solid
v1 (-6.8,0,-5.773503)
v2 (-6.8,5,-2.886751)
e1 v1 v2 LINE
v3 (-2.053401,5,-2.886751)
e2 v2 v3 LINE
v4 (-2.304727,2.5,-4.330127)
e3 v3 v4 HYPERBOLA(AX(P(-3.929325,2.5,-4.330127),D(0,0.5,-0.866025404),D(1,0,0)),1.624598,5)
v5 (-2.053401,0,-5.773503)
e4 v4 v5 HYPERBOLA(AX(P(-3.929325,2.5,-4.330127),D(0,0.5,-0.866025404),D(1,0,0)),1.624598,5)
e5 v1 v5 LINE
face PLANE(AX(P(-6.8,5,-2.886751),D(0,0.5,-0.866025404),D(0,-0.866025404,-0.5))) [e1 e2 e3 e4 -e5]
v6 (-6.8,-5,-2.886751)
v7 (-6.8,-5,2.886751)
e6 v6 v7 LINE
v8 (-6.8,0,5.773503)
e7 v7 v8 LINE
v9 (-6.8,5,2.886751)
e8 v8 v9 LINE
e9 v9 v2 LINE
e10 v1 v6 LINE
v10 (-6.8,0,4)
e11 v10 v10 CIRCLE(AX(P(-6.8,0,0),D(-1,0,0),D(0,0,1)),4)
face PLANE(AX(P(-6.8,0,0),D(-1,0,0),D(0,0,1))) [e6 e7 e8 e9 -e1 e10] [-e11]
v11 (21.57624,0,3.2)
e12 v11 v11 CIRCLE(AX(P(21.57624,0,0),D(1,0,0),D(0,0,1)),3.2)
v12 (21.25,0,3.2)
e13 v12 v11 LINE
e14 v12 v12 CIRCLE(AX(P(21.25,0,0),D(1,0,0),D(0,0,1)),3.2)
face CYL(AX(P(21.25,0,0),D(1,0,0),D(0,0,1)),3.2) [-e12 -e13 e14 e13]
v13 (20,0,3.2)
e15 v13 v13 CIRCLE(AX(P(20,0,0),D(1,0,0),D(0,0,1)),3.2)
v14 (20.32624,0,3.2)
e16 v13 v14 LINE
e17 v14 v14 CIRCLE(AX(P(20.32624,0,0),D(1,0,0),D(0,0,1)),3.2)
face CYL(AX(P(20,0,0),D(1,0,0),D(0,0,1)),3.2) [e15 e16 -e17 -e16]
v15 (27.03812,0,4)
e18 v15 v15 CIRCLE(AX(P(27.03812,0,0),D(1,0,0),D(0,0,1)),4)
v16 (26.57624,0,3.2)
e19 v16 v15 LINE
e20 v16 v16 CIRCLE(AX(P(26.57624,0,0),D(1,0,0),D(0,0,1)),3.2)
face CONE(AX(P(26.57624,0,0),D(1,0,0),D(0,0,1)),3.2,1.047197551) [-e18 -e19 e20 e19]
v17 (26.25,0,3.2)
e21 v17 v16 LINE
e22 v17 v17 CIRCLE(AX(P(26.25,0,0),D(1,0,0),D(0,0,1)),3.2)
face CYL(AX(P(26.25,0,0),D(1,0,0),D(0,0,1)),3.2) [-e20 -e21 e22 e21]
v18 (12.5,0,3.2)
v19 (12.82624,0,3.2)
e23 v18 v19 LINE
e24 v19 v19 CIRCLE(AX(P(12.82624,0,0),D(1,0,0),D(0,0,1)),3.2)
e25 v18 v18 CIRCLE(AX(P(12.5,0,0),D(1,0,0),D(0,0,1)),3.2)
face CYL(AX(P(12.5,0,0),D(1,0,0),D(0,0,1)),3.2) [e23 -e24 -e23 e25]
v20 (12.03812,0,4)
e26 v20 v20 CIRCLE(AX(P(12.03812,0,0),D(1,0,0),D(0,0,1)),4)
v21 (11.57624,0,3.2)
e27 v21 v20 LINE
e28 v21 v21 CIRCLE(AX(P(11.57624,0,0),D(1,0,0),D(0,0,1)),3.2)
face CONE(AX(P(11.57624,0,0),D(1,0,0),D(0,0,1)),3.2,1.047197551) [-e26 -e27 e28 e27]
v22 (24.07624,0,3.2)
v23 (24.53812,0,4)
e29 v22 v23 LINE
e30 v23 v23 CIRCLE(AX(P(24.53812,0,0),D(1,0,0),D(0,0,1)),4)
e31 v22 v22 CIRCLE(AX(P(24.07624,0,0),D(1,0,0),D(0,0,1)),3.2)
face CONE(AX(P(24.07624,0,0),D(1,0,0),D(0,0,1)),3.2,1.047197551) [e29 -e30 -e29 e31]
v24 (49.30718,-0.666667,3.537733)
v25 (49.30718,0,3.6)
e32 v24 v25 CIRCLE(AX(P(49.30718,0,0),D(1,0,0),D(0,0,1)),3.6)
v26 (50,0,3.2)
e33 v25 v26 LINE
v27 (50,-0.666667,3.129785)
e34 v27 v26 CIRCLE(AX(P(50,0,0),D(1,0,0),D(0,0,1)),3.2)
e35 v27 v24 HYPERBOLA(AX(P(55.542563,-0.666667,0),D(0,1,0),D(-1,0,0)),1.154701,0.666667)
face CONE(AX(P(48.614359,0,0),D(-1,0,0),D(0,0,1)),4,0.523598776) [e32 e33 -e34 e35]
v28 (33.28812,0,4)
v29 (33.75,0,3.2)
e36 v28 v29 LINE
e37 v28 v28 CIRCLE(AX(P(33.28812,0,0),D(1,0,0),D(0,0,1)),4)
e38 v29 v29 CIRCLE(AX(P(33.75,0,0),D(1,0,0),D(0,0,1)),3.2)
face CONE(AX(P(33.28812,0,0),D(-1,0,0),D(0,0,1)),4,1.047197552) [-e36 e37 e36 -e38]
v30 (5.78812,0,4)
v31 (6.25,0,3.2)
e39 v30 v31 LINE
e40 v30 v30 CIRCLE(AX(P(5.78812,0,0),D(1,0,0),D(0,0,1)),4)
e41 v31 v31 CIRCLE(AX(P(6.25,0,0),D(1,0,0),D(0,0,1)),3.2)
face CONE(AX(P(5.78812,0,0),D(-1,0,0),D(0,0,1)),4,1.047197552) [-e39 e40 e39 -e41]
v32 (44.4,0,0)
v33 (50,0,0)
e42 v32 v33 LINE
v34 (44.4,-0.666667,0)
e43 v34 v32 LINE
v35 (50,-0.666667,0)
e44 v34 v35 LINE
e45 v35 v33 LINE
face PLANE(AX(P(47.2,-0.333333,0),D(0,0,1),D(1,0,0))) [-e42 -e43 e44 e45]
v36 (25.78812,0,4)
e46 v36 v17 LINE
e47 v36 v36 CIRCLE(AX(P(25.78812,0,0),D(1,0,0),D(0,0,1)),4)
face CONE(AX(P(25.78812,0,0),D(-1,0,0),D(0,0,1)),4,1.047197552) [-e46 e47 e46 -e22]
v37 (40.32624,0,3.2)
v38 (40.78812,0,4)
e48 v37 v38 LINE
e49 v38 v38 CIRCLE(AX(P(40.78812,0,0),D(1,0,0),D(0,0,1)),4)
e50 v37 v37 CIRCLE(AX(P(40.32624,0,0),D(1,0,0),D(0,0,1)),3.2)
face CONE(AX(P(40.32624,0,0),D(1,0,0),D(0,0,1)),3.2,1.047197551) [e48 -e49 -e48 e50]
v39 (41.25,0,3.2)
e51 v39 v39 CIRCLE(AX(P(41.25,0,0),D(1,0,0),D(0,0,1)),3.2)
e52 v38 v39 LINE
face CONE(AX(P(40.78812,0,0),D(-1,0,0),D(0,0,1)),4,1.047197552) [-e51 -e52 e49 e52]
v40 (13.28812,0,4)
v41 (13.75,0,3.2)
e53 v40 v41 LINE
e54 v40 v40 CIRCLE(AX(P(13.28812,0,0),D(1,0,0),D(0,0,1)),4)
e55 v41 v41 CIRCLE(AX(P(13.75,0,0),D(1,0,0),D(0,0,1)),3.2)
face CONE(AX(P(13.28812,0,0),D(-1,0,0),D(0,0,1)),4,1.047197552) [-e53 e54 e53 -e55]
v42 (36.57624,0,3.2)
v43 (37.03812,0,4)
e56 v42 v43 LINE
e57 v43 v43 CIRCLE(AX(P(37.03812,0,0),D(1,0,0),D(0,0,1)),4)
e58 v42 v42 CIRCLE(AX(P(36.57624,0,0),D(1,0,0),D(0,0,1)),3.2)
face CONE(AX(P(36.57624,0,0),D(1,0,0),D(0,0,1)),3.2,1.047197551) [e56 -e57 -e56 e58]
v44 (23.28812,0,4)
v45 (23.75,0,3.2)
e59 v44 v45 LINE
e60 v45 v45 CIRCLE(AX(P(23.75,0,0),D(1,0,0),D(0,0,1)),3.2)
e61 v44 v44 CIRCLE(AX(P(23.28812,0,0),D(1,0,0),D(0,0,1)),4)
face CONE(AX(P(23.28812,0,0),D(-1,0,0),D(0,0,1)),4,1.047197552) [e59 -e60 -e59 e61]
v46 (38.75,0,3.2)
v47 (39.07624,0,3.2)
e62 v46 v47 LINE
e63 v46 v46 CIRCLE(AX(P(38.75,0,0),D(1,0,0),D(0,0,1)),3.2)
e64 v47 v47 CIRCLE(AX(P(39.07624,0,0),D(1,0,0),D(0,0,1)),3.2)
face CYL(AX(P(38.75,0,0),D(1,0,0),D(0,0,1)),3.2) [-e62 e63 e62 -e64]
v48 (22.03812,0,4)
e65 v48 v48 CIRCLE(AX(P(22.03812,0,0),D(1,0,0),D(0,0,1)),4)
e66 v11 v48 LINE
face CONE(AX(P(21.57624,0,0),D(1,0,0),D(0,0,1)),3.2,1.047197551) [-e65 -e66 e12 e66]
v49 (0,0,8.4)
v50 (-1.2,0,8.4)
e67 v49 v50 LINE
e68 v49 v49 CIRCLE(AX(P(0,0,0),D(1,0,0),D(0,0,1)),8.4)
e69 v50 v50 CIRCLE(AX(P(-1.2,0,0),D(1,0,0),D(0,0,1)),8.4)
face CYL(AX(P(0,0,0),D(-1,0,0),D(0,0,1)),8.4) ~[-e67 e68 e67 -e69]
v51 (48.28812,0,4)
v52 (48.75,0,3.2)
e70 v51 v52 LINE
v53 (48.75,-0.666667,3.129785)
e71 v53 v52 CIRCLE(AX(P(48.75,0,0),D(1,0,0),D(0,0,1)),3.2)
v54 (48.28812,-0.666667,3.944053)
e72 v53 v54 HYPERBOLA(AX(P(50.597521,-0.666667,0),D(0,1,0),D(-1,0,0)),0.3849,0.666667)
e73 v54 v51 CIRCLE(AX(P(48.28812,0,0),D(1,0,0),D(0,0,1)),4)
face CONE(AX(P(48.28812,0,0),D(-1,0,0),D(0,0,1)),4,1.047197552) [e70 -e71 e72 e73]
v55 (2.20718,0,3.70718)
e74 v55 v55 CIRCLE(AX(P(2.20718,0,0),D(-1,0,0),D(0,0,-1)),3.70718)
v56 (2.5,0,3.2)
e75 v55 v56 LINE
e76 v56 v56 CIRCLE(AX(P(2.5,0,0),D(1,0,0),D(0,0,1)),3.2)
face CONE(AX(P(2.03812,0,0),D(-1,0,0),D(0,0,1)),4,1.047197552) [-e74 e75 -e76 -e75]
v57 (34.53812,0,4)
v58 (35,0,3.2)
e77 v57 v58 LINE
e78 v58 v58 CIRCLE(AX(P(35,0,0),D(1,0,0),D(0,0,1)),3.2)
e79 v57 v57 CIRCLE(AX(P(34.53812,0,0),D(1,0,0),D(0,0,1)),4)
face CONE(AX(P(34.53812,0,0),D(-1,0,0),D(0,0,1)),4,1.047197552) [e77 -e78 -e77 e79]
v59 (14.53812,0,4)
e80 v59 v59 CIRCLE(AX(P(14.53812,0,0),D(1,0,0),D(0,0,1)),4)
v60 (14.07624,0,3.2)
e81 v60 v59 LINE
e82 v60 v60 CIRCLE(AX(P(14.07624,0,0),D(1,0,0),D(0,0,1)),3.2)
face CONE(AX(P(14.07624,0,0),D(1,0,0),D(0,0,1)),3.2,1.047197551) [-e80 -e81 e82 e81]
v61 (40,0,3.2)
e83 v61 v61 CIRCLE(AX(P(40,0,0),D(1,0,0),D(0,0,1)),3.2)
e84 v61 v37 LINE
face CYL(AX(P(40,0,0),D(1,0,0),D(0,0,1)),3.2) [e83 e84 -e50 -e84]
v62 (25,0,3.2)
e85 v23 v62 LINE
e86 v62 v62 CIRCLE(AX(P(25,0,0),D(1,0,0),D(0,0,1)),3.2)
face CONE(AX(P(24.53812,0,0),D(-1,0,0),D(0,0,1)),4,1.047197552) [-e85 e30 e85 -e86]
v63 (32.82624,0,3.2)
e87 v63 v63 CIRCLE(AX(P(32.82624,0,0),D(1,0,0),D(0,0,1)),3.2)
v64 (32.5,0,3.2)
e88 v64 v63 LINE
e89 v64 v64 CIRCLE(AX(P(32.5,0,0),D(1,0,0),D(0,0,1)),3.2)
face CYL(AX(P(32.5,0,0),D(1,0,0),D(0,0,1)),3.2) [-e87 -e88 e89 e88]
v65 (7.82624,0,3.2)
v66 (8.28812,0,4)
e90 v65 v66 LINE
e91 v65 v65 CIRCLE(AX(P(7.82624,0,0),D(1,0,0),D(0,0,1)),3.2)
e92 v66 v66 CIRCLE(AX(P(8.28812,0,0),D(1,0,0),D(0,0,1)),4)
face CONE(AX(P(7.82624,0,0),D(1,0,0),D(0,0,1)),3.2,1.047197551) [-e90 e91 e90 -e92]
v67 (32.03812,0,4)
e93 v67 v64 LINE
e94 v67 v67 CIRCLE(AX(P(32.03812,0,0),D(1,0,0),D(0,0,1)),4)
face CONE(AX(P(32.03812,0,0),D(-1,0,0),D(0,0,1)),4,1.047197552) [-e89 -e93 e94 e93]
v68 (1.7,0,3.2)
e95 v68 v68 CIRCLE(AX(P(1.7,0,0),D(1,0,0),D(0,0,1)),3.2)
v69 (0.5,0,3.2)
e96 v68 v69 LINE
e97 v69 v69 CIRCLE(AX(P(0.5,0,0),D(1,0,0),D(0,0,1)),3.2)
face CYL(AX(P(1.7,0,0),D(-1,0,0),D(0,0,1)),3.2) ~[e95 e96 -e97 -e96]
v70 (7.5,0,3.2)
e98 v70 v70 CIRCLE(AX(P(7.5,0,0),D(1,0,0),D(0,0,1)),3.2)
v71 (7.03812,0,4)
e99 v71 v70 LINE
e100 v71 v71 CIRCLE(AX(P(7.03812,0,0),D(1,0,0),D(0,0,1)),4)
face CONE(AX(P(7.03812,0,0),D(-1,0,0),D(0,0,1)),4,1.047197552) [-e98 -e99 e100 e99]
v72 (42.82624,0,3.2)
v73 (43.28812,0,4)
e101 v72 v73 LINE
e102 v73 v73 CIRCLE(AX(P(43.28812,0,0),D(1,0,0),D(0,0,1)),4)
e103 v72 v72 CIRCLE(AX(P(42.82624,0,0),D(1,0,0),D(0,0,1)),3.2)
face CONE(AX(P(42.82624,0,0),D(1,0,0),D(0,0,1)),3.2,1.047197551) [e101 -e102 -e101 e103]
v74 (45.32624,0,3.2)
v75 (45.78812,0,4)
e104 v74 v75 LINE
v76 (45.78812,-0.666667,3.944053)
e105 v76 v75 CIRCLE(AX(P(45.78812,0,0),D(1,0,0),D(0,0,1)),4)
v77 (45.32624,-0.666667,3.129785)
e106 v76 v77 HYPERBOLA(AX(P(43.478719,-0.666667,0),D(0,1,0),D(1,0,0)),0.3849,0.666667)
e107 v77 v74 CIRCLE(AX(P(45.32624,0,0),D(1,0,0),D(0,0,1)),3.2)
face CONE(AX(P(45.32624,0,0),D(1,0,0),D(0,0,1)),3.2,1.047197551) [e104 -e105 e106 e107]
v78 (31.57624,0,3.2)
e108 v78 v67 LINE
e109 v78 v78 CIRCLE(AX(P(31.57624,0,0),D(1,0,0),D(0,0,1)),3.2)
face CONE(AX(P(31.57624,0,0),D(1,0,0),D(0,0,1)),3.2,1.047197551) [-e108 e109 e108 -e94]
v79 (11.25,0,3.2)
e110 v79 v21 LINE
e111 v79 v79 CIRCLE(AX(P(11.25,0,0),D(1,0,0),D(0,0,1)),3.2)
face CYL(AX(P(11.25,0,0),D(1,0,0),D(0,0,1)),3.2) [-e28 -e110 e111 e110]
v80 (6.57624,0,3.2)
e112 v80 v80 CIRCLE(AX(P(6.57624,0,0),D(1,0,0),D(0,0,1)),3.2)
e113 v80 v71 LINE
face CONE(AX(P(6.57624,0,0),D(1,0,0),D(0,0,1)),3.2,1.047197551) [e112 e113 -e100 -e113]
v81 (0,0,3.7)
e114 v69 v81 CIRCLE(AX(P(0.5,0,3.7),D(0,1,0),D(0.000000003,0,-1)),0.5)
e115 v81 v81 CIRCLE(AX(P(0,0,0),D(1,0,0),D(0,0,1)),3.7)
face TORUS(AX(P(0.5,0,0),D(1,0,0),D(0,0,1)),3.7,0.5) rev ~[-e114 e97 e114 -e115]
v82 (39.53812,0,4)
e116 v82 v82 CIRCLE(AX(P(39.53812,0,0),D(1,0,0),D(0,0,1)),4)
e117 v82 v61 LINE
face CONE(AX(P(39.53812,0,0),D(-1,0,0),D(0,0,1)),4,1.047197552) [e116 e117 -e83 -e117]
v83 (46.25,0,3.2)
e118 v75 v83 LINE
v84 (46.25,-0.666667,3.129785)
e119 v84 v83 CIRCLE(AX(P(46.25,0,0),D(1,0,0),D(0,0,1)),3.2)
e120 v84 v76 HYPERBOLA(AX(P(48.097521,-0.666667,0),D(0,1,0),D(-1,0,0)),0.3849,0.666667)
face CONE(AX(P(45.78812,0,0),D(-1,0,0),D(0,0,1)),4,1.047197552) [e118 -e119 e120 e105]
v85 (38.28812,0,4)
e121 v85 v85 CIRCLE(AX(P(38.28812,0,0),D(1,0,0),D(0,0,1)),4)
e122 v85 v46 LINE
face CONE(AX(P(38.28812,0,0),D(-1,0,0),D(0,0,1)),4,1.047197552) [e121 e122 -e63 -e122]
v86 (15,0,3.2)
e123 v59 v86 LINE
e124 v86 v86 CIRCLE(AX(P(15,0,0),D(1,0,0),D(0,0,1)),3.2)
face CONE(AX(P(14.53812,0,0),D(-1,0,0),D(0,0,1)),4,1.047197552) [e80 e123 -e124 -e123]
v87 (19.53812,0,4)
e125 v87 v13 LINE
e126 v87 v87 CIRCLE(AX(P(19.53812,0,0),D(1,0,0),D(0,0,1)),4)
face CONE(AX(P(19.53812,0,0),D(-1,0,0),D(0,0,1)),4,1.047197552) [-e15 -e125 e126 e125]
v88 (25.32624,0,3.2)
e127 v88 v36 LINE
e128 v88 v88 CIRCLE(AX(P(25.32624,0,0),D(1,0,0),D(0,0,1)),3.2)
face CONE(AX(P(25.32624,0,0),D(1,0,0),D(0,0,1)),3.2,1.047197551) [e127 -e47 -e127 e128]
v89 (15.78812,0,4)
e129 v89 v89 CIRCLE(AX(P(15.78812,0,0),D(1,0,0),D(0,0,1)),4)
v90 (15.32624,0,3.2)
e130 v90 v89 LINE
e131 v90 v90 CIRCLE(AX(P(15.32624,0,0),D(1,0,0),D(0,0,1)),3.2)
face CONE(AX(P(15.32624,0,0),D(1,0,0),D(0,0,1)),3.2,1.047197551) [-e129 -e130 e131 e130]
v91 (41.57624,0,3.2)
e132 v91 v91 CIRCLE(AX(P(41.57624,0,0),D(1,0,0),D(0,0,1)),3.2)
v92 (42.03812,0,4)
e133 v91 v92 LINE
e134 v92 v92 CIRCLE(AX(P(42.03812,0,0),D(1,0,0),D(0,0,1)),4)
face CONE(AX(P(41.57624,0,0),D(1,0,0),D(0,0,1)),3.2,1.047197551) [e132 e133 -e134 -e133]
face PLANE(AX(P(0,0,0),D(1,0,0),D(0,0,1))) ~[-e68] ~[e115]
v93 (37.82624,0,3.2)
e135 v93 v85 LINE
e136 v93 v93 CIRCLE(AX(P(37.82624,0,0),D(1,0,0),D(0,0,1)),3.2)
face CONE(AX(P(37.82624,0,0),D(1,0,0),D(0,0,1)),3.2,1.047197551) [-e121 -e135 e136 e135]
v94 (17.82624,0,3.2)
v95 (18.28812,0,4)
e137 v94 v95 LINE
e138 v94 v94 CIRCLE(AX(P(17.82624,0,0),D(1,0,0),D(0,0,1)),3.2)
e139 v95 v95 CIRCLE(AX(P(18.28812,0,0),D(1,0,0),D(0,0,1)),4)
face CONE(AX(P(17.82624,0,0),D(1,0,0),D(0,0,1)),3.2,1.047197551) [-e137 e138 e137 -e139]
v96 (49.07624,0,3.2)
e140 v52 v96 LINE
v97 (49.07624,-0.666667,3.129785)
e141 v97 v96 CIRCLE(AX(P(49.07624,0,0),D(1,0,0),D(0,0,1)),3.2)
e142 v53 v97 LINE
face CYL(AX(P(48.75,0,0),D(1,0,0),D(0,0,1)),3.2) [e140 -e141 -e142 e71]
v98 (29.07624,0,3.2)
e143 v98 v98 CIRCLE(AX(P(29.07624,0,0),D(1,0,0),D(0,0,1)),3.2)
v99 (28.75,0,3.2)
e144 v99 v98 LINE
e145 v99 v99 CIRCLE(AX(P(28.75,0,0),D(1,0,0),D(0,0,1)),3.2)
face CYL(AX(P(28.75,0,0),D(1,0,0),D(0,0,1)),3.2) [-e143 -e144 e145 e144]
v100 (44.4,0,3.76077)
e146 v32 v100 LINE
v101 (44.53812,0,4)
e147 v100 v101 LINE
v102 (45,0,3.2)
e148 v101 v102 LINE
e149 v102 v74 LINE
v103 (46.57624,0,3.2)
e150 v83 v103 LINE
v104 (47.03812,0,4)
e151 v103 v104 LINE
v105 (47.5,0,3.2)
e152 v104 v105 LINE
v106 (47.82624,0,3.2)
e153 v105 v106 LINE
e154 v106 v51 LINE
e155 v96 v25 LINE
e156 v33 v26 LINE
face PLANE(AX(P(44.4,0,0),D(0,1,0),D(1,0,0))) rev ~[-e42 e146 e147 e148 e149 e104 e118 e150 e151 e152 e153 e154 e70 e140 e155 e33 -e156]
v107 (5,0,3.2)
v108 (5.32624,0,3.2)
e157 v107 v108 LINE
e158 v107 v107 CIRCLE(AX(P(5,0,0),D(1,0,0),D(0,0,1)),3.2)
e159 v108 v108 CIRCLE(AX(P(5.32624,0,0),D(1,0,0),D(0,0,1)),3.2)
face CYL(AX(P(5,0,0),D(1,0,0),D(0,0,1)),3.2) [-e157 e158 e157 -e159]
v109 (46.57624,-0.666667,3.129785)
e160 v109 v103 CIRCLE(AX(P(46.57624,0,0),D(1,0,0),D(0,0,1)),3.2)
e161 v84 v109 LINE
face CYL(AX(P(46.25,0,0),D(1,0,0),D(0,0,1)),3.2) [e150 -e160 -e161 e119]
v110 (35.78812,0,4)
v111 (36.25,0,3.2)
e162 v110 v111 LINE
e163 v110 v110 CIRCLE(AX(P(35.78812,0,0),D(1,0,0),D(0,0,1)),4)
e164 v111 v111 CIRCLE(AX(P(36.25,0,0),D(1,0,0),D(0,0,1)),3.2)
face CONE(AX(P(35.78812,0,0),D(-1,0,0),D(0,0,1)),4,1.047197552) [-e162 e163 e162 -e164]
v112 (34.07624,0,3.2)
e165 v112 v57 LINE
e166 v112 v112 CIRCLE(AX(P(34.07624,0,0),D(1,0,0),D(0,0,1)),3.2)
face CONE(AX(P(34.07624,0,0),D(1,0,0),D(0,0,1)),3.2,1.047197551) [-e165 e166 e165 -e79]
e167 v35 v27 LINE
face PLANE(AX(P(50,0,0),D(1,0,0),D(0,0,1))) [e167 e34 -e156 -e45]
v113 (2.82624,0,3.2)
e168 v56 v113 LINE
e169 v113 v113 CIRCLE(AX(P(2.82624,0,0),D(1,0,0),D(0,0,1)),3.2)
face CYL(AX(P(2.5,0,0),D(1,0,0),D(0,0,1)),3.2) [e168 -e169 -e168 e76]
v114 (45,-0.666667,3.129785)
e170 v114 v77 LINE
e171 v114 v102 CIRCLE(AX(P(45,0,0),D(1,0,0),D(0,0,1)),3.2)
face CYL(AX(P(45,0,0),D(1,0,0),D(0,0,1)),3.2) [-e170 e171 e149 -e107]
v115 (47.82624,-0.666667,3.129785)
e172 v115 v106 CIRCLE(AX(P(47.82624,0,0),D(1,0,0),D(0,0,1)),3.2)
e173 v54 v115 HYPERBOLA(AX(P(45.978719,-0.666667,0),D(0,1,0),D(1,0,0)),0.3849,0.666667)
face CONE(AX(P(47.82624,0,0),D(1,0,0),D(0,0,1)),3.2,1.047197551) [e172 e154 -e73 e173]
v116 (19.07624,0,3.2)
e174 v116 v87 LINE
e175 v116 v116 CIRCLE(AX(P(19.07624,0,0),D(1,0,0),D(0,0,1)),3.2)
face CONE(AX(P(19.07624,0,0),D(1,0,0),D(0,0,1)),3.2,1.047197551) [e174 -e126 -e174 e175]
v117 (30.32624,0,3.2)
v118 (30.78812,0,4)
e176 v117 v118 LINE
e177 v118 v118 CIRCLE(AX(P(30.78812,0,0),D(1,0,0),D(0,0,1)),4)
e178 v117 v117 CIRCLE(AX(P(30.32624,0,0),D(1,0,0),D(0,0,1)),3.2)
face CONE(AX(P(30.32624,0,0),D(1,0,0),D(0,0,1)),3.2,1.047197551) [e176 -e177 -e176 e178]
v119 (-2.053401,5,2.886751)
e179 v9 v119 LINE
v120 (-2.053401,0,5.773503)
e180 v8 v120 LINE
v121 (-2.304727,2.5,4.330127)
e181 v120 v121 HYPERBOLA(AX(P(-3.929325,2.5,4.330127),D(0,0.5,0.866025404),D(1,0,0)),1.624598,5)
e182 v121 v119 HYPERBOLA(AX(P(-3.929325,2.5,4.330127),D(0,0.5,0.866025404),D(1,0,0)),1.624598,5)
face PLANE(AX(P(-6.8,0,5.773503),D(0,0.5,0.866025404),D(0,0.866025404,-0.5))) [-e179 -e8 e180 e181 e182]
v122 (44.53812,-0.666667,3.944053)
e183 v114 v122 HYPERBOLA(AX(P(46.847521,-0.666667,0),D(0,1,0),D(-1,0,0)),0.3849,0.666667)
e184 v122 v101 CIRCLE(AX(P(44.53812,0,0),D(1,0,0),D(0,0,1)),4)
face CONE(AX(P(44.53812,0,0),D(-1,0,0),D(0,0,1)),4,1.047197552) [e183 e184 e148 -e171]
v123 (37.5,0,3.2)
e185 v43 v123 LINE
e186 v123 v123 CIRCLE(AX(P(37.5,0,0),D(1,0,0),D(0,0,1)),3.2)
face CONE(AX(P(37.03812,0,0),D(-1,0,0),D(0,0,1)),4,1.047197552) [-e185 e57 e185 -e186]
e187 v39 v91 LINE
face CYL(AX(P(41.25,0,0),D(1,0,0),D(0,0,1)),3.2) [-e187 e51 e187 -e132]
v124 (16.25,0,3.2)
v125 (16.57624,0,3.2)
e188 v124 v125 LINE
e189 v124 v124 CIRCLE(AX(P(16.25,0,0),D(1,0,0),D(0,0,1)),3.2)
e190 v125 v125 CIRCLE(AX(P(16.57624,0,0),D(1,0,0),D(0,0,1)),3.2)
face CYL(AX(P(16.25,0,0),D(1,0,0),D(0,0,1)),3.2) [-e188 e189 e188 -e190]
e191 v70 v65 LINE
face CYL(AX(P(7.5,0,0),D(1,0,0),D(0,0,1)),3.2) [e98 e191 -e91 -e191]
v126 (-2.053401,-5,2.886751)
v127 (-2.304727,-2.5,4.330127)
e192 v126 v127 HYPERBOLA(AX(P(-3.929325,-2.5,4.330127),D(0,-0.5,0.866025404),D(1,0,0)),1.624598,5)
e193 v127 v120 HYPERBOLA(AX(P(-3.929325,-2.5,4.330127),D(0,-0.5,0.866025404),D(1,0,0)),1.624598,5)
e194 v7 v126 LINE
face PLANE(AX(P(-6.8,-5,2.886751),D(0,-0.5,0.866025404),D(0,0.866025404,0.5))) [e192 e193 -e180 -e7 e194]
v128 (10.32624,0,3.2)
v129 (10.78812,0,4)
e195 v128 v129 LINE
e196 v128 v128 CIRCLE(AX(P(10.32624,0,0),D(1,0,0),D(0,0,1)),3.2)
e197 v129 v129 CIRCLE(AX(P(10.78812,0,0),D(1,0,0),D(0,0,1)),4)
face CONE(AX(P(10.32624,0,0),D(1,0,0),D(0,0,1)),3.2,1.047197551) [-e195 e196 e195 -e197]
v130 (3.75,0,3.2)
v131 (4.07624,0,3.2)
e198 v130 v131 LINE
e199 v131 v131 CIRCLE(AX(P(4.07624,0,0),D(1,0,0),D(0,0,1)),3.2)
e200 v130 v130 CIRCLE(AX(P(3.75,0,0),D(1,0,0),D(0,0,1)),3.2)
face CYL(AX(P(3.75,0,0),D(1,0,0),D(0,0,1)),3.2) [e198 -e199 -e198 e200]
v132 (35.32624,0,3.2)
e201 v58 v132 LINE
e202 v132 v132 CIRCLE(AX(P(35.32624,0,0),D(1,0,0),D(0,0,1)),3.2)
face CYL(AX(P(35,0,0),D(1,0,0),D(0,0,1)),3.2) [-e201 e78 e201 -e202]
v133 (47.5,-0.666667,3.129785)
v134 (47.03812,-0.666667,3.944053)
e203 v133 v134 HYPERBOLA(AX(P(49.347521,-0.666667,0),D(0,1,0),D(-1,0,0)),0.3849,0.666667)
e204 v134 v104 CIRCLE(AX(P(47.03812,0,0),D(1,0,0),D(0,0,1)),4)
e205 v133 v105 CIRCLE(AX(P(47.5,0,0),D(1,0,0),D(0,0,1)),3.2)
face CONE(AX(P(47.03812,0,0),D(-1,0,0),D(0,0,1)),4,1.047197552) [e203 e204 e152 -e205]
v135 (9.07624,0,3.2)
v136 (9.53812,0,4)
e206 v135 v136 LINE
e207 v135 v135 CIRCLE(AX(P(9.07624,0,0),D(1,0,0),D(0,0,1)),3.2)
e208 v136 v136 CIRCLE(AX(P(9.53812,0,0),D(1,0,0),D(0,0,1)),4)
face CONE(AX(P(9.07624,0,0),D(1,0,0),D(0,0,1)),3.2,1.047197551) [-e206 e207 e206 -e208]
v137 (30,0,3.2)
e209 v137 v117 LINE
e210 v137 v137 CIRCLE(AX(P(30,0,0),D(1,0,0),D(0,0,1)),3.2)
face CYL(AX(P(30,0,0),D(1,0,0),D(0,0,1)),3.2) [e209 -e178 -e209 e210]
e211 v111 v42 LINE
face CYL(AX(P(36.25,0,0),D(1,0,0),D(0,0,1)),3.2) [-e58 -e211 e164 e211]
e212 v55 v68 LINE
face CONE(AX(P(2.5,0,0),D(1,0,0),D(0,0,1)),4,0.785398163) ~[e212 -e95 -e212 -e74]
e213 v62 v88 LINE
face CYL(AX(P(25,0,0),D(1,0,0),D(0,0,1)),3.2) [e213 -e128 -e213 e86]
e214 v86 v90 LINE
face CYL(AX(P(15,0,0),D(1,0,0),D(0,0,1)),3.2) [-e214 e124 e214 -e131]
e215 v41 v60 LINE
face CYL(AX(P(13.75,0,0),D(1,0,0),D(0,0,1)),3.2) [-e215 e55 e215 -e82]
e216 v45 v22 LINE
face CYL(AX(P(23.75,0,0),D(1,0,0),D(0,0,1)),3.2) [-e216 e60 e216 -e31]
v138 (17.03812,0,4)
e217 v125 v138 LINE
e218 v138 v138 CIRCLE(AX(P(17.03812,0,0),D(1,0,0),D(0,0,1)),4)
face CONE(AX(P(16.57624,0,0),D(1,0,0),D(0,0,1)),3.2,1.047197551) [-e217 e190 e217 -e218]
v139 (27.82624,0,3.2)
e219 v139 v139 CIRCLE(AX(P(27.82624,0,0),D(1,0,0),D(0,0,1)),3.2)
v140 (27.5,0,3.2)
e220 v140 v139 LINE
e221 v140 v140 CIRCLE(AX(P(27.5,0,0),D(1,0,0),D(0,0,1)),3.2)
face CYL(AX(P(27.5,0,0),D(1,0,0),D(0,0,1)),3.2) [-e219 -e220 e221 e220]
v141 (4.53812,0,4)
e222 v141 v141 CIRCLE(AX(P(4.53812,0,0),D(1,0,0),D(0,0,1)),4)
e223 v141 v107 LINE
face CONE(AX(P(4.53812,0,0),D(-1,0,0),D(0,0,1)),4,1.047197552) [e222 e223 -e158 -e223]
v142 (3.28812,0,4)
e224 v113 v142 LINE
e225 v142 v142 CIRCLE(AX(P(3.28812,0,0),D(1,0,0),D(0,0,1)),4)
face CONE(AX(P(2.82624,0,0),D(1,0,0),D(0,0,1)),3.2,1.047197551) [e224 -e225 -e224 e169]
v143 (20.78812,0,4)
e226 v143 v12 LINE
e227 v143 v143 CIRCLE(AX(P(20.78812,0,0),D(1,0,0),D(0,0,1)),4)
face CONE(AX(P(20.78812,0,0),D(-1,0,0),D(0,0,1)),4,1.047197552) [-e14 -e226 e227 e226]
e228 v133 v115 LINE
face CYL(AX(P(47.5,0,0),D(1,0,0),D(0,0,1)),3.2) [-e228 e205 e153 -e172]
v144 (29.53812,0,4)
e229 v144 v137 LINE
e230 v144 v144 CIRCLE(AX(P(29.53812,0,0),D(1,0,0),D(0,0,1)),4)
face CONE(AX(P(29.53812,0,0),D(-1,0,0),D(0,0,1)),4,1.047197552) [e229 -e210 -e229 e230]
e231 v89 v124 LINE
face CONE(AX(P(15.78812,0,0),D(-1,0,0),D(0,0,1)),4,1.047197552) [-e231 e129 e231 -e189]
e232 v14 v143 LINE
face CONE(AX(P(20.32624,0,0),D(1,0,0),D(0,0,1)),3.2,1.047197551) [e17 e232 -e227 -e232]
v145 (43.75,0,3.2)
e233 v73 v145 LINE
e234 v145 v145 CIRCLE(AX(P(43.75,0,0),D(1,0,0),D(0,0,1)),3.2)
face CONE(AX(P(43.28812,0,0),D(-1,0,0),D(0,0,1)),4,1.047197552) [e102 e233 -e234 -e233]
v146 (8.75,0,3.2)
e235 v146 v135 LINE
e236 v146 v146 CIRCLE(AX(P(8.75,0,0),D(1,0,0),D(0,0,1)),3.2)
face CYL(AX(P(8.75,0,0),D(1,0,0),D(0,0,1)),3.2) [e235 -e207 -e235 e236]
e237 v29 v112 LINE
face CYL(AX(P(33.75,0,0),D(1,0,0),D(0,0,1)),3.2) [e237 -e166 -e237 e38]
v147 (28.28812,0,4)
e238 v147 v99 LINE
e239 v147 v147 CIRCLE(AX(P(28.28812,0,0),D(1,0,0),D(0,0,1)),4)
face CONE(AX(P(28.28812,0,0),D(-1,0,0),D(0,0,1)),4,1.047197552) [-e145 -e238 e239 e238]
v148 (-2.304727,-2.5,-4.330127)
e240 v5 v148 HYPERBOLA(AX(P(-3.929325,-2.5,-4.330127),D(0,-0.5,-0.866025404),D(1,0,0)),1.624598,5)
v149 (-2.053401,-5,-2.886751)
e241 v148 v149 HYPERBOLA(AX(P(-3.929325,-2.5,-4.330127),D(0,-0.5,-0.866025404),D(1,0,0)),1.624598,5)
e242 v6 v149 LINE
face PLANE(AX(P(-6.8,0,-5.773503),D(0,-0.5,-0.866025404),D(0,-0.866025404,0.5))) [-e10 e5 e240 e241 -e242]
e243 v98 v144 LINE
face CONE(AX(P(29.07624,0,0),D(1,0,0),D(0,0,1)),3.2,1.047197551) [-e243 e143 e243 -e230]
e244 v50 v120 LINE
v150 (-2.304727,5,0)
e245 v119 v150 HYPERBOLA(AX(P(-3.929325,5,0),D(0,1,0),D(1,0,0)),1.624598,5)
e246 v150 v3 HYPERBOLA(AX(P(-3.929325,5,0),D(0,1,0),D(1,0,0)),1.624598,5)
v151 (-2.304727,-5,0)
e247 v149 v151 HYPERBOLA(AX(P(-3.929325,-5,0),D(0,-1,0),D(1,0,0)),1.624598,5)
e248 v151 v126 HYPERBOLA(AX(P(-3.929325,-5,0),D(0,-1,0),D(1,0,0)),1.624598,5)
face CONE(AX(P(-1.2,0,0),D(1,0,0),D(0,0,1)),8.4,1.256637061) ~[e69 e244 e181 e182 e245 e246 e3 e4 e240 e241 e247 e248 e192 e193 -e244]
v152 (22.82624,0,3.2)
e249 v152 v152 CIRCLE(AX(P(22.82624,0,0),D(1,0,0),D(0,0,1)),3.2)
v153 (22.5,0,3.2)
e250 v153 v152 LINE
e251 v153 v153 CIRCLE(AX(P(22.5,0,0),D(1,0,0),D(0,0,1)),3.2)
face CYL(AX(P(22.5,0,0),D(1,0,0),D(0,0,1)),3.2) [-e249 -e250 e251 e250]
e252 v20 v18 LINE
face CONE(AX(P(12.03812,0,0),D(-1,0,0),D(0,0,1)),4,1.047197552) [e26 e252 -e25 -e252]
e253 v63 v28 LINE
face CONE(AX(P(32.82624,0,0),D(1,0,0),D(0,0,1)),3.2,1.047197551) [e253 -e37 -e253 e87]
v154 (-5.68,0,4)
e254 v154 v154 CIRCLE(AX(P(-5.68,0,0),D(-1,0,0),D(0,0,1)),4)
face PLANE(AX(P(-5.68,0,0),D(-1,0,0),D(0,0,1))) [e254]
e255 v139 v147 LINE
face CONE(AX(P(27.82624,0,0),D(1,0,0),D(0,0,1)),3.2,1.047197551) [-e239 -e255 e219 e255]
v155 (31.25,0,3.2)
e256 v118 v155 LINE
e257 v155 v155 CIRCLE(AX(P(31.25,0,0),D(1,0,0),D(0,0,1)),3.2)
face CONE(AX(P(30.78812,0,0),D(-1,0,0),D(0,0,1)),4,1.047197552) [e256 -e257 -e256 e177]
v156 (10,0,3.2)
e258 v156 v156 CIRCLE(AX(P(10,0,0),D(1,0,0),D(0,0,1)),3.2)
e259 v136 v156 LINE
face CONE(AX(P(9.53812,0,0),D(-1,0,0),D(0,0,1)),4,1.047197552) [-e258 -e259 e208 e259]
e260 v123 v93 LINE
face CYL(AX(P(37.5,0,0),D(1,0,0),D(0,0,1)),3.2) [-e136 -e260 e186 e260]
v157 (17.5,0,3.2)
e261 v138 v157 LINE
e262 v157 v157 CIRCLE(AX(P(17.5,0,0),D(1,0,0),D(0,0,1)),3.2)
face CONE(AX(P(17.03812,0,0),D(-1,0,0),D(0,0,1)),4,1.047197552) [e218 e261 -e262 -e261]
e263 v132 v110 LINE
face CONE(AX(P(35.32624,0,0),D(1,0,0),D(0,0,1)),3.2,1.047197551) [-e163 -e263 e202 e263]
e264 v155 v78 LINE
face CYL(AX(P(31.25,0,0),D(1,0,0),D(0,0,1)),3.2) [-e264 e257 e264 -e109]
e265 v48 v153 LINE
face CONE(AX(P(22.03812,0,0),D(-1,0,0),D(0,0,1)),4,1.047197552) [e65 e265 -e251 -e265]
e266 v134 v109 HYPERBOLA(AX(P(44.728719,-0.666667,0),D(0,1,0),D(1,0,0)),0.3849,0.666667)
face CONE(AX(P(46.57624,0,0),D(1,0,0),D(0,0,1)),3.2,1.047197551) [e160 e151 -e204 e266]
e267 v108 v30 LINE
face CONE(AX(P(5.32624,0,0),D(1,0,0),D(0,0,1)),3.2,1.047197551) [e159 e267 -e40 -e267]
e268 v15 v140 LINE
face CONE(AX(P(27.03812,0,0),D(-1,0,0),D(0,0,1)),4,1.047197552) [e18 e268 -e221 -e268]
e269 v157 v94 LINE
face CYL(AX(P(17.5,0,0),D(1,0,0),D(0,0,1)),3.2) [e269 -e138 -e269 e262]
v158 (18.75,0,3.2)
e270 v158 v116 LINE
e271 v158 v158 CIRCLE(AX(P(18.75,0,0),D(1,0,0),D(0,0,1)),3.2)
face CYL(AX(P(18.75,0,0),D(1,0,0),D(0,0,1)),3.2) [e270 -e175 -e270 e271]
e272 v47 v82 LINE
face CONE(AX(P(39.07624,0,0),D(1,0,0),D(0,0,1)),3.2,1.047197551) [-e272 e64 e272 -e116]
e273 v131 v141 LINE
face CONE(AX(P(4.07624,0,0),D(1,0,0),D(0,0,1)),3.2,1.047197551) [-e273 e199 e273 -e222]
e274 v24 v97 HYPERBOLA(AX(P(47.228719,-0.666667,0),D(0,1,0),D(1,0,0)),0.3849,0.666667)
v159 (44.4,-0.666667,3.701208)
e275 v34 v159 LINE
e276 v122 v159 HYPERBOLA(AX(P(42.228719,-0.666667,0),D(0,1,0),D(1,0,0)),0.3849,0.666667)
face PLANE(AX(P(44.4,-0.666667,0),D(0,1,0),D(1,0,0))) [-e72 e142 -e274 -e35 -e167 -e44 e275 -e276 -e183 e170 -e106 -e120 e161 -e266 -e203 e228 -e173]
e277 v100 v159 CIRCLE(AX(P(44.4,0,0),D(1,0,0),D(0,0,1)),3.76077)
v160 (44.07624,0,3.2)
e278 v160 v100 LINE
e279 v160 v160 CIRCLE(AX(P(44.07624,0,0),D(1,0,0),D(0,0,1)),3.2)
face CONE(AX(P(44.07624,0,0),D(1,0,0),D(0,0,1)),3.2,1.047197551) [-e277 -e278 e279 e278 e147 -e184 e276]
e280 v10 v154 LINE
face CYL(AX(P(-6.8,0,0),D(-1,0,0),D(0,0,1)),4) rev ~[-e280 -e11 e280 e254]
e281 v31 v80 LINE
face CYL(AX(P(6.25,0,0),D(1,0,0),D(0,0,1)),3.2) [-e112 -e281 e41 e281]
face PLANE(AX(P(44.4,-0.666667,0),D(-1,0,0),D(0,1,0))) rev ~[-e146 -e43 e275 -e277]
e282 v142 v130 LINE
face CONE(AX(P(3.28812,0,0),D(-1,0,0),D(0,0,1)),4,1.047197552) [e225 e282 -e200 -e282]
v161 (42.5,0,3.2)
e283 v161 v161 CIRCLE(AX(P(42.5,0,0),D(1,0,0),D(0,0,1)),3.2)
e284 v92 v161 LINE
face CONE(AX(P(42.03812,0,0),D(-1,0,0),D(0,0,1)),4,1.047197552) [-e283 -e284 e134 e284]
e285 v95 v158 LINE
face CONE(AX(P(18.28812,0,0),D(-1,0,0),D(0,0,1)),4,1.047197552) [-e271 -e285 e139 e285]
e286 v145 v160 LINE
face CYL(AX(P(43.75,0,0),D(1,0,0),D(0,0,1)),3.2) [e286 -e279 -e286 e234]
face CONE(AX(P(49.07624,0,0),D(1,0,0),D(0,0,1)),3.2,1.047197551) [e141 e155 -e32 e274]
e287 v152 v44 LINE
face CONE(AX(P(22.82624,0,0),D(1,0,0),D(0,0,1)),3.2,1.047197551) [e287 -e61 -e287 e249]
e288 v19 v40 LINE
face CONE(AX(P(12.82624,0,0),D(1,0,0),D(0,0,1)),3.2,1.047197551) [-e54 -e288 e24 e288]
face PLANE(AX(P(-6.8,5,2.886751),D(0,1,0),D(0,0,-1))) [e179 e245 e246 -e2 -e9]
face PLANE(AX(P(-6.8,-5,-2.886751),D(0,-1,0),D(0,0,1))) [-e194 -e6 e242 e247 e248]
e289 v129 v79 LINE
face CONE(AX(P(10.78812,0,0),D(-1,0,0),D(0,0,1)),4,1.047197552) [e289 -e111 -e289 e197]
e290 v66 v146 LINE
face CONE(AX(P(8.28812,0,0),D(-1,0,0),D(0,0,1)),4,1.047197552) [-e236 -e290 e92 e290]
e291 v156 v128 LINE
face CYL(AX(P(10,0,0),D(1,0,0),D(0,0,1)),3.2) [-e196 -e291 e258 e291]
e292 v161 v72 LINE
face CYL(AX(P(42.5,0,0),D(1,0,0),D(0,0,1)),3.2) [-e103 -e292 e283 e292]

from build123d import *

# Parameters (mm, degrees)
EXTRUDE1_REACH           = 60.029
LPATTERN1_COUNT          = 38
LPATTERN1_PITCH          = 1.25
SKETCH11_W               = 5.6
SKETCH11_H               = 0.666666667
POINT_CUT_EXTRUDE8_DEPTH = 52.391828144
SKETCH16_R               = 4
CUT_EXTRUDE1_DEPTH       = 1.12


with BuildPart() as part:
    # Sketch1 → base-Revolve (revolve)
    with BuildSketch(Plane.XY, mode=Mode.PRIVATE) as base_revolve_sk:
        with BuildLine():
            Line((0, 8.4), (-1.2, 8.4))
            Line((-1.2, 8.4), (-2.304726967, 5))
            Line((-2.304726967, 5), (-6.8, 5))
            Line((-6.8, 5), (-6.8, 0))
            Line((-6.8, 0), (-5.68, 0))
            Line((-5.68, 0), (0, 0))
            Line((0, 0), (50, 0))
            Line((50, 0), (50, 4))
            Line((50, 4), (2.5, 4))
            Line((2.5, 4), (1.7, 3.2))
            Line((1.7, 3.2), (0.5, 3.2))
            ThreePointArc((0.5, 3.2), (0.146446609, 3.346446609), (0, 3.7))
            Line((0, 3.7), (0, 8.4))
        make_face()
    revolve(base_revolve_sk.sketch.rotate(Axis((0, 0, 0), (1, 0, 0)), 90), axis=Axis((0, 0, 0), (1, 0, 0)))

    # Extrude1: up to this cone (the profile starts outside it)
    extrude1_end = Plane(origin=(-6.8, 0, 0), z_dir=(1, 0, 0)).offset(2.870675552) * Cone(3.078e-06, 177.454079013, 57.658324448, align=(Align.CENTER, Align.CENTER, Align.MIN), mode=Mode.PRIVATE)
    # Sketch15 → Extrude1 (add, up to the surface)
    with BuildSketch(Plane.ZY.offset(6.8), mode=Mode.PRIVATE) as extrude1_sk1:
        Polygon((-2.886751346, 5), (-5.773502692, 0), (-2.886751346, -5), (2.886751346, -5), (5.773502692, 0), (2.886751346, 5), align=None)
    extrude1_tool1 = extrude(extrude1_sk1.sketch, amount=-EXTRUDE1_REACH, mode=Mode.PRIVATE) - extrude1_end
    add(extrude1_tool1.solids().sort_by_distance((-6.8, 0, 0))[0])

    # thd_Sketch7 → thd_Cut-Revolve2 (revolve, cut)
    with BuildSketch(Plane.XY, mode=Mode.PRIVATE) as thd_cut_revolve2_sk:
        Polygon((2.038119785, 4.923760431), (2.038119785, 4), (2.5, 3.2), (2.826239569, 3.2), (3.288119785, 4), (3.288119785, 4.923760431), (2.961880215, 4.923760431), align=None)
    thd_cut_revolve2 = revolve(thd_cut_revolve2_sk.sketch.rotate(Axis((0, 0, 0), (1, 0, 0)), 90), axis=Axis((0, 0, 0), (1, 0, 0)), mode=Mode.SUBTRACT)

    # LPattern1: thd_Cut-Revolve2 ×38
    with Locations(*[(i * LPATTERN1_PITCH, 0, 0) for i in range(1, LPATTERN1_COUNT)]):
        add(thd_cut_revolve2, mode=Mode.SUBTRACT)

    # Sketch8 → point_Cut-Revolve1 (revolve, cut)
    with BuildSketch(Plane.XY, mode=Mode.PRIVATE) as point_cut_revolve1_sk:
        Polygon((50, 0), (50.508, 0), (50.508, 4.508), (48.614359354, 4.508), (48.614359354, 4), (50, 3.2), align=None)
    revolve(point_cut_revolve1_sk.sketch.rotate(Axis((0, 0, 0), (1, 0, 0)), 90), axis=Axis((0, 0, 0), (1, 0, 0)), mode=Mode.SUBTRACT)

    # Sketch11 → point_Cut-Extrude8 (cut, through all)
    with BuildSketch(Plane.XY):
        with Locations((47.2, -0.333333333)):
            Rectangle(SKETCH11_W, SKETCH11_H)
    extrude(amount=POINT_CUT_EXTRUDE8_DEPTH, mode=Mode.SUBTRACT)

    # Sketch16 → Cut-Extrude1 (cut)
    with BuildSketch(Plane.ZY.offset(6.8)):
        Circle(SKETCH16_R)
    extrude(amount=-CUT_EXTRUDE1_DEPTH, mode=Mode.SUBTRACT)


solid = part.part
